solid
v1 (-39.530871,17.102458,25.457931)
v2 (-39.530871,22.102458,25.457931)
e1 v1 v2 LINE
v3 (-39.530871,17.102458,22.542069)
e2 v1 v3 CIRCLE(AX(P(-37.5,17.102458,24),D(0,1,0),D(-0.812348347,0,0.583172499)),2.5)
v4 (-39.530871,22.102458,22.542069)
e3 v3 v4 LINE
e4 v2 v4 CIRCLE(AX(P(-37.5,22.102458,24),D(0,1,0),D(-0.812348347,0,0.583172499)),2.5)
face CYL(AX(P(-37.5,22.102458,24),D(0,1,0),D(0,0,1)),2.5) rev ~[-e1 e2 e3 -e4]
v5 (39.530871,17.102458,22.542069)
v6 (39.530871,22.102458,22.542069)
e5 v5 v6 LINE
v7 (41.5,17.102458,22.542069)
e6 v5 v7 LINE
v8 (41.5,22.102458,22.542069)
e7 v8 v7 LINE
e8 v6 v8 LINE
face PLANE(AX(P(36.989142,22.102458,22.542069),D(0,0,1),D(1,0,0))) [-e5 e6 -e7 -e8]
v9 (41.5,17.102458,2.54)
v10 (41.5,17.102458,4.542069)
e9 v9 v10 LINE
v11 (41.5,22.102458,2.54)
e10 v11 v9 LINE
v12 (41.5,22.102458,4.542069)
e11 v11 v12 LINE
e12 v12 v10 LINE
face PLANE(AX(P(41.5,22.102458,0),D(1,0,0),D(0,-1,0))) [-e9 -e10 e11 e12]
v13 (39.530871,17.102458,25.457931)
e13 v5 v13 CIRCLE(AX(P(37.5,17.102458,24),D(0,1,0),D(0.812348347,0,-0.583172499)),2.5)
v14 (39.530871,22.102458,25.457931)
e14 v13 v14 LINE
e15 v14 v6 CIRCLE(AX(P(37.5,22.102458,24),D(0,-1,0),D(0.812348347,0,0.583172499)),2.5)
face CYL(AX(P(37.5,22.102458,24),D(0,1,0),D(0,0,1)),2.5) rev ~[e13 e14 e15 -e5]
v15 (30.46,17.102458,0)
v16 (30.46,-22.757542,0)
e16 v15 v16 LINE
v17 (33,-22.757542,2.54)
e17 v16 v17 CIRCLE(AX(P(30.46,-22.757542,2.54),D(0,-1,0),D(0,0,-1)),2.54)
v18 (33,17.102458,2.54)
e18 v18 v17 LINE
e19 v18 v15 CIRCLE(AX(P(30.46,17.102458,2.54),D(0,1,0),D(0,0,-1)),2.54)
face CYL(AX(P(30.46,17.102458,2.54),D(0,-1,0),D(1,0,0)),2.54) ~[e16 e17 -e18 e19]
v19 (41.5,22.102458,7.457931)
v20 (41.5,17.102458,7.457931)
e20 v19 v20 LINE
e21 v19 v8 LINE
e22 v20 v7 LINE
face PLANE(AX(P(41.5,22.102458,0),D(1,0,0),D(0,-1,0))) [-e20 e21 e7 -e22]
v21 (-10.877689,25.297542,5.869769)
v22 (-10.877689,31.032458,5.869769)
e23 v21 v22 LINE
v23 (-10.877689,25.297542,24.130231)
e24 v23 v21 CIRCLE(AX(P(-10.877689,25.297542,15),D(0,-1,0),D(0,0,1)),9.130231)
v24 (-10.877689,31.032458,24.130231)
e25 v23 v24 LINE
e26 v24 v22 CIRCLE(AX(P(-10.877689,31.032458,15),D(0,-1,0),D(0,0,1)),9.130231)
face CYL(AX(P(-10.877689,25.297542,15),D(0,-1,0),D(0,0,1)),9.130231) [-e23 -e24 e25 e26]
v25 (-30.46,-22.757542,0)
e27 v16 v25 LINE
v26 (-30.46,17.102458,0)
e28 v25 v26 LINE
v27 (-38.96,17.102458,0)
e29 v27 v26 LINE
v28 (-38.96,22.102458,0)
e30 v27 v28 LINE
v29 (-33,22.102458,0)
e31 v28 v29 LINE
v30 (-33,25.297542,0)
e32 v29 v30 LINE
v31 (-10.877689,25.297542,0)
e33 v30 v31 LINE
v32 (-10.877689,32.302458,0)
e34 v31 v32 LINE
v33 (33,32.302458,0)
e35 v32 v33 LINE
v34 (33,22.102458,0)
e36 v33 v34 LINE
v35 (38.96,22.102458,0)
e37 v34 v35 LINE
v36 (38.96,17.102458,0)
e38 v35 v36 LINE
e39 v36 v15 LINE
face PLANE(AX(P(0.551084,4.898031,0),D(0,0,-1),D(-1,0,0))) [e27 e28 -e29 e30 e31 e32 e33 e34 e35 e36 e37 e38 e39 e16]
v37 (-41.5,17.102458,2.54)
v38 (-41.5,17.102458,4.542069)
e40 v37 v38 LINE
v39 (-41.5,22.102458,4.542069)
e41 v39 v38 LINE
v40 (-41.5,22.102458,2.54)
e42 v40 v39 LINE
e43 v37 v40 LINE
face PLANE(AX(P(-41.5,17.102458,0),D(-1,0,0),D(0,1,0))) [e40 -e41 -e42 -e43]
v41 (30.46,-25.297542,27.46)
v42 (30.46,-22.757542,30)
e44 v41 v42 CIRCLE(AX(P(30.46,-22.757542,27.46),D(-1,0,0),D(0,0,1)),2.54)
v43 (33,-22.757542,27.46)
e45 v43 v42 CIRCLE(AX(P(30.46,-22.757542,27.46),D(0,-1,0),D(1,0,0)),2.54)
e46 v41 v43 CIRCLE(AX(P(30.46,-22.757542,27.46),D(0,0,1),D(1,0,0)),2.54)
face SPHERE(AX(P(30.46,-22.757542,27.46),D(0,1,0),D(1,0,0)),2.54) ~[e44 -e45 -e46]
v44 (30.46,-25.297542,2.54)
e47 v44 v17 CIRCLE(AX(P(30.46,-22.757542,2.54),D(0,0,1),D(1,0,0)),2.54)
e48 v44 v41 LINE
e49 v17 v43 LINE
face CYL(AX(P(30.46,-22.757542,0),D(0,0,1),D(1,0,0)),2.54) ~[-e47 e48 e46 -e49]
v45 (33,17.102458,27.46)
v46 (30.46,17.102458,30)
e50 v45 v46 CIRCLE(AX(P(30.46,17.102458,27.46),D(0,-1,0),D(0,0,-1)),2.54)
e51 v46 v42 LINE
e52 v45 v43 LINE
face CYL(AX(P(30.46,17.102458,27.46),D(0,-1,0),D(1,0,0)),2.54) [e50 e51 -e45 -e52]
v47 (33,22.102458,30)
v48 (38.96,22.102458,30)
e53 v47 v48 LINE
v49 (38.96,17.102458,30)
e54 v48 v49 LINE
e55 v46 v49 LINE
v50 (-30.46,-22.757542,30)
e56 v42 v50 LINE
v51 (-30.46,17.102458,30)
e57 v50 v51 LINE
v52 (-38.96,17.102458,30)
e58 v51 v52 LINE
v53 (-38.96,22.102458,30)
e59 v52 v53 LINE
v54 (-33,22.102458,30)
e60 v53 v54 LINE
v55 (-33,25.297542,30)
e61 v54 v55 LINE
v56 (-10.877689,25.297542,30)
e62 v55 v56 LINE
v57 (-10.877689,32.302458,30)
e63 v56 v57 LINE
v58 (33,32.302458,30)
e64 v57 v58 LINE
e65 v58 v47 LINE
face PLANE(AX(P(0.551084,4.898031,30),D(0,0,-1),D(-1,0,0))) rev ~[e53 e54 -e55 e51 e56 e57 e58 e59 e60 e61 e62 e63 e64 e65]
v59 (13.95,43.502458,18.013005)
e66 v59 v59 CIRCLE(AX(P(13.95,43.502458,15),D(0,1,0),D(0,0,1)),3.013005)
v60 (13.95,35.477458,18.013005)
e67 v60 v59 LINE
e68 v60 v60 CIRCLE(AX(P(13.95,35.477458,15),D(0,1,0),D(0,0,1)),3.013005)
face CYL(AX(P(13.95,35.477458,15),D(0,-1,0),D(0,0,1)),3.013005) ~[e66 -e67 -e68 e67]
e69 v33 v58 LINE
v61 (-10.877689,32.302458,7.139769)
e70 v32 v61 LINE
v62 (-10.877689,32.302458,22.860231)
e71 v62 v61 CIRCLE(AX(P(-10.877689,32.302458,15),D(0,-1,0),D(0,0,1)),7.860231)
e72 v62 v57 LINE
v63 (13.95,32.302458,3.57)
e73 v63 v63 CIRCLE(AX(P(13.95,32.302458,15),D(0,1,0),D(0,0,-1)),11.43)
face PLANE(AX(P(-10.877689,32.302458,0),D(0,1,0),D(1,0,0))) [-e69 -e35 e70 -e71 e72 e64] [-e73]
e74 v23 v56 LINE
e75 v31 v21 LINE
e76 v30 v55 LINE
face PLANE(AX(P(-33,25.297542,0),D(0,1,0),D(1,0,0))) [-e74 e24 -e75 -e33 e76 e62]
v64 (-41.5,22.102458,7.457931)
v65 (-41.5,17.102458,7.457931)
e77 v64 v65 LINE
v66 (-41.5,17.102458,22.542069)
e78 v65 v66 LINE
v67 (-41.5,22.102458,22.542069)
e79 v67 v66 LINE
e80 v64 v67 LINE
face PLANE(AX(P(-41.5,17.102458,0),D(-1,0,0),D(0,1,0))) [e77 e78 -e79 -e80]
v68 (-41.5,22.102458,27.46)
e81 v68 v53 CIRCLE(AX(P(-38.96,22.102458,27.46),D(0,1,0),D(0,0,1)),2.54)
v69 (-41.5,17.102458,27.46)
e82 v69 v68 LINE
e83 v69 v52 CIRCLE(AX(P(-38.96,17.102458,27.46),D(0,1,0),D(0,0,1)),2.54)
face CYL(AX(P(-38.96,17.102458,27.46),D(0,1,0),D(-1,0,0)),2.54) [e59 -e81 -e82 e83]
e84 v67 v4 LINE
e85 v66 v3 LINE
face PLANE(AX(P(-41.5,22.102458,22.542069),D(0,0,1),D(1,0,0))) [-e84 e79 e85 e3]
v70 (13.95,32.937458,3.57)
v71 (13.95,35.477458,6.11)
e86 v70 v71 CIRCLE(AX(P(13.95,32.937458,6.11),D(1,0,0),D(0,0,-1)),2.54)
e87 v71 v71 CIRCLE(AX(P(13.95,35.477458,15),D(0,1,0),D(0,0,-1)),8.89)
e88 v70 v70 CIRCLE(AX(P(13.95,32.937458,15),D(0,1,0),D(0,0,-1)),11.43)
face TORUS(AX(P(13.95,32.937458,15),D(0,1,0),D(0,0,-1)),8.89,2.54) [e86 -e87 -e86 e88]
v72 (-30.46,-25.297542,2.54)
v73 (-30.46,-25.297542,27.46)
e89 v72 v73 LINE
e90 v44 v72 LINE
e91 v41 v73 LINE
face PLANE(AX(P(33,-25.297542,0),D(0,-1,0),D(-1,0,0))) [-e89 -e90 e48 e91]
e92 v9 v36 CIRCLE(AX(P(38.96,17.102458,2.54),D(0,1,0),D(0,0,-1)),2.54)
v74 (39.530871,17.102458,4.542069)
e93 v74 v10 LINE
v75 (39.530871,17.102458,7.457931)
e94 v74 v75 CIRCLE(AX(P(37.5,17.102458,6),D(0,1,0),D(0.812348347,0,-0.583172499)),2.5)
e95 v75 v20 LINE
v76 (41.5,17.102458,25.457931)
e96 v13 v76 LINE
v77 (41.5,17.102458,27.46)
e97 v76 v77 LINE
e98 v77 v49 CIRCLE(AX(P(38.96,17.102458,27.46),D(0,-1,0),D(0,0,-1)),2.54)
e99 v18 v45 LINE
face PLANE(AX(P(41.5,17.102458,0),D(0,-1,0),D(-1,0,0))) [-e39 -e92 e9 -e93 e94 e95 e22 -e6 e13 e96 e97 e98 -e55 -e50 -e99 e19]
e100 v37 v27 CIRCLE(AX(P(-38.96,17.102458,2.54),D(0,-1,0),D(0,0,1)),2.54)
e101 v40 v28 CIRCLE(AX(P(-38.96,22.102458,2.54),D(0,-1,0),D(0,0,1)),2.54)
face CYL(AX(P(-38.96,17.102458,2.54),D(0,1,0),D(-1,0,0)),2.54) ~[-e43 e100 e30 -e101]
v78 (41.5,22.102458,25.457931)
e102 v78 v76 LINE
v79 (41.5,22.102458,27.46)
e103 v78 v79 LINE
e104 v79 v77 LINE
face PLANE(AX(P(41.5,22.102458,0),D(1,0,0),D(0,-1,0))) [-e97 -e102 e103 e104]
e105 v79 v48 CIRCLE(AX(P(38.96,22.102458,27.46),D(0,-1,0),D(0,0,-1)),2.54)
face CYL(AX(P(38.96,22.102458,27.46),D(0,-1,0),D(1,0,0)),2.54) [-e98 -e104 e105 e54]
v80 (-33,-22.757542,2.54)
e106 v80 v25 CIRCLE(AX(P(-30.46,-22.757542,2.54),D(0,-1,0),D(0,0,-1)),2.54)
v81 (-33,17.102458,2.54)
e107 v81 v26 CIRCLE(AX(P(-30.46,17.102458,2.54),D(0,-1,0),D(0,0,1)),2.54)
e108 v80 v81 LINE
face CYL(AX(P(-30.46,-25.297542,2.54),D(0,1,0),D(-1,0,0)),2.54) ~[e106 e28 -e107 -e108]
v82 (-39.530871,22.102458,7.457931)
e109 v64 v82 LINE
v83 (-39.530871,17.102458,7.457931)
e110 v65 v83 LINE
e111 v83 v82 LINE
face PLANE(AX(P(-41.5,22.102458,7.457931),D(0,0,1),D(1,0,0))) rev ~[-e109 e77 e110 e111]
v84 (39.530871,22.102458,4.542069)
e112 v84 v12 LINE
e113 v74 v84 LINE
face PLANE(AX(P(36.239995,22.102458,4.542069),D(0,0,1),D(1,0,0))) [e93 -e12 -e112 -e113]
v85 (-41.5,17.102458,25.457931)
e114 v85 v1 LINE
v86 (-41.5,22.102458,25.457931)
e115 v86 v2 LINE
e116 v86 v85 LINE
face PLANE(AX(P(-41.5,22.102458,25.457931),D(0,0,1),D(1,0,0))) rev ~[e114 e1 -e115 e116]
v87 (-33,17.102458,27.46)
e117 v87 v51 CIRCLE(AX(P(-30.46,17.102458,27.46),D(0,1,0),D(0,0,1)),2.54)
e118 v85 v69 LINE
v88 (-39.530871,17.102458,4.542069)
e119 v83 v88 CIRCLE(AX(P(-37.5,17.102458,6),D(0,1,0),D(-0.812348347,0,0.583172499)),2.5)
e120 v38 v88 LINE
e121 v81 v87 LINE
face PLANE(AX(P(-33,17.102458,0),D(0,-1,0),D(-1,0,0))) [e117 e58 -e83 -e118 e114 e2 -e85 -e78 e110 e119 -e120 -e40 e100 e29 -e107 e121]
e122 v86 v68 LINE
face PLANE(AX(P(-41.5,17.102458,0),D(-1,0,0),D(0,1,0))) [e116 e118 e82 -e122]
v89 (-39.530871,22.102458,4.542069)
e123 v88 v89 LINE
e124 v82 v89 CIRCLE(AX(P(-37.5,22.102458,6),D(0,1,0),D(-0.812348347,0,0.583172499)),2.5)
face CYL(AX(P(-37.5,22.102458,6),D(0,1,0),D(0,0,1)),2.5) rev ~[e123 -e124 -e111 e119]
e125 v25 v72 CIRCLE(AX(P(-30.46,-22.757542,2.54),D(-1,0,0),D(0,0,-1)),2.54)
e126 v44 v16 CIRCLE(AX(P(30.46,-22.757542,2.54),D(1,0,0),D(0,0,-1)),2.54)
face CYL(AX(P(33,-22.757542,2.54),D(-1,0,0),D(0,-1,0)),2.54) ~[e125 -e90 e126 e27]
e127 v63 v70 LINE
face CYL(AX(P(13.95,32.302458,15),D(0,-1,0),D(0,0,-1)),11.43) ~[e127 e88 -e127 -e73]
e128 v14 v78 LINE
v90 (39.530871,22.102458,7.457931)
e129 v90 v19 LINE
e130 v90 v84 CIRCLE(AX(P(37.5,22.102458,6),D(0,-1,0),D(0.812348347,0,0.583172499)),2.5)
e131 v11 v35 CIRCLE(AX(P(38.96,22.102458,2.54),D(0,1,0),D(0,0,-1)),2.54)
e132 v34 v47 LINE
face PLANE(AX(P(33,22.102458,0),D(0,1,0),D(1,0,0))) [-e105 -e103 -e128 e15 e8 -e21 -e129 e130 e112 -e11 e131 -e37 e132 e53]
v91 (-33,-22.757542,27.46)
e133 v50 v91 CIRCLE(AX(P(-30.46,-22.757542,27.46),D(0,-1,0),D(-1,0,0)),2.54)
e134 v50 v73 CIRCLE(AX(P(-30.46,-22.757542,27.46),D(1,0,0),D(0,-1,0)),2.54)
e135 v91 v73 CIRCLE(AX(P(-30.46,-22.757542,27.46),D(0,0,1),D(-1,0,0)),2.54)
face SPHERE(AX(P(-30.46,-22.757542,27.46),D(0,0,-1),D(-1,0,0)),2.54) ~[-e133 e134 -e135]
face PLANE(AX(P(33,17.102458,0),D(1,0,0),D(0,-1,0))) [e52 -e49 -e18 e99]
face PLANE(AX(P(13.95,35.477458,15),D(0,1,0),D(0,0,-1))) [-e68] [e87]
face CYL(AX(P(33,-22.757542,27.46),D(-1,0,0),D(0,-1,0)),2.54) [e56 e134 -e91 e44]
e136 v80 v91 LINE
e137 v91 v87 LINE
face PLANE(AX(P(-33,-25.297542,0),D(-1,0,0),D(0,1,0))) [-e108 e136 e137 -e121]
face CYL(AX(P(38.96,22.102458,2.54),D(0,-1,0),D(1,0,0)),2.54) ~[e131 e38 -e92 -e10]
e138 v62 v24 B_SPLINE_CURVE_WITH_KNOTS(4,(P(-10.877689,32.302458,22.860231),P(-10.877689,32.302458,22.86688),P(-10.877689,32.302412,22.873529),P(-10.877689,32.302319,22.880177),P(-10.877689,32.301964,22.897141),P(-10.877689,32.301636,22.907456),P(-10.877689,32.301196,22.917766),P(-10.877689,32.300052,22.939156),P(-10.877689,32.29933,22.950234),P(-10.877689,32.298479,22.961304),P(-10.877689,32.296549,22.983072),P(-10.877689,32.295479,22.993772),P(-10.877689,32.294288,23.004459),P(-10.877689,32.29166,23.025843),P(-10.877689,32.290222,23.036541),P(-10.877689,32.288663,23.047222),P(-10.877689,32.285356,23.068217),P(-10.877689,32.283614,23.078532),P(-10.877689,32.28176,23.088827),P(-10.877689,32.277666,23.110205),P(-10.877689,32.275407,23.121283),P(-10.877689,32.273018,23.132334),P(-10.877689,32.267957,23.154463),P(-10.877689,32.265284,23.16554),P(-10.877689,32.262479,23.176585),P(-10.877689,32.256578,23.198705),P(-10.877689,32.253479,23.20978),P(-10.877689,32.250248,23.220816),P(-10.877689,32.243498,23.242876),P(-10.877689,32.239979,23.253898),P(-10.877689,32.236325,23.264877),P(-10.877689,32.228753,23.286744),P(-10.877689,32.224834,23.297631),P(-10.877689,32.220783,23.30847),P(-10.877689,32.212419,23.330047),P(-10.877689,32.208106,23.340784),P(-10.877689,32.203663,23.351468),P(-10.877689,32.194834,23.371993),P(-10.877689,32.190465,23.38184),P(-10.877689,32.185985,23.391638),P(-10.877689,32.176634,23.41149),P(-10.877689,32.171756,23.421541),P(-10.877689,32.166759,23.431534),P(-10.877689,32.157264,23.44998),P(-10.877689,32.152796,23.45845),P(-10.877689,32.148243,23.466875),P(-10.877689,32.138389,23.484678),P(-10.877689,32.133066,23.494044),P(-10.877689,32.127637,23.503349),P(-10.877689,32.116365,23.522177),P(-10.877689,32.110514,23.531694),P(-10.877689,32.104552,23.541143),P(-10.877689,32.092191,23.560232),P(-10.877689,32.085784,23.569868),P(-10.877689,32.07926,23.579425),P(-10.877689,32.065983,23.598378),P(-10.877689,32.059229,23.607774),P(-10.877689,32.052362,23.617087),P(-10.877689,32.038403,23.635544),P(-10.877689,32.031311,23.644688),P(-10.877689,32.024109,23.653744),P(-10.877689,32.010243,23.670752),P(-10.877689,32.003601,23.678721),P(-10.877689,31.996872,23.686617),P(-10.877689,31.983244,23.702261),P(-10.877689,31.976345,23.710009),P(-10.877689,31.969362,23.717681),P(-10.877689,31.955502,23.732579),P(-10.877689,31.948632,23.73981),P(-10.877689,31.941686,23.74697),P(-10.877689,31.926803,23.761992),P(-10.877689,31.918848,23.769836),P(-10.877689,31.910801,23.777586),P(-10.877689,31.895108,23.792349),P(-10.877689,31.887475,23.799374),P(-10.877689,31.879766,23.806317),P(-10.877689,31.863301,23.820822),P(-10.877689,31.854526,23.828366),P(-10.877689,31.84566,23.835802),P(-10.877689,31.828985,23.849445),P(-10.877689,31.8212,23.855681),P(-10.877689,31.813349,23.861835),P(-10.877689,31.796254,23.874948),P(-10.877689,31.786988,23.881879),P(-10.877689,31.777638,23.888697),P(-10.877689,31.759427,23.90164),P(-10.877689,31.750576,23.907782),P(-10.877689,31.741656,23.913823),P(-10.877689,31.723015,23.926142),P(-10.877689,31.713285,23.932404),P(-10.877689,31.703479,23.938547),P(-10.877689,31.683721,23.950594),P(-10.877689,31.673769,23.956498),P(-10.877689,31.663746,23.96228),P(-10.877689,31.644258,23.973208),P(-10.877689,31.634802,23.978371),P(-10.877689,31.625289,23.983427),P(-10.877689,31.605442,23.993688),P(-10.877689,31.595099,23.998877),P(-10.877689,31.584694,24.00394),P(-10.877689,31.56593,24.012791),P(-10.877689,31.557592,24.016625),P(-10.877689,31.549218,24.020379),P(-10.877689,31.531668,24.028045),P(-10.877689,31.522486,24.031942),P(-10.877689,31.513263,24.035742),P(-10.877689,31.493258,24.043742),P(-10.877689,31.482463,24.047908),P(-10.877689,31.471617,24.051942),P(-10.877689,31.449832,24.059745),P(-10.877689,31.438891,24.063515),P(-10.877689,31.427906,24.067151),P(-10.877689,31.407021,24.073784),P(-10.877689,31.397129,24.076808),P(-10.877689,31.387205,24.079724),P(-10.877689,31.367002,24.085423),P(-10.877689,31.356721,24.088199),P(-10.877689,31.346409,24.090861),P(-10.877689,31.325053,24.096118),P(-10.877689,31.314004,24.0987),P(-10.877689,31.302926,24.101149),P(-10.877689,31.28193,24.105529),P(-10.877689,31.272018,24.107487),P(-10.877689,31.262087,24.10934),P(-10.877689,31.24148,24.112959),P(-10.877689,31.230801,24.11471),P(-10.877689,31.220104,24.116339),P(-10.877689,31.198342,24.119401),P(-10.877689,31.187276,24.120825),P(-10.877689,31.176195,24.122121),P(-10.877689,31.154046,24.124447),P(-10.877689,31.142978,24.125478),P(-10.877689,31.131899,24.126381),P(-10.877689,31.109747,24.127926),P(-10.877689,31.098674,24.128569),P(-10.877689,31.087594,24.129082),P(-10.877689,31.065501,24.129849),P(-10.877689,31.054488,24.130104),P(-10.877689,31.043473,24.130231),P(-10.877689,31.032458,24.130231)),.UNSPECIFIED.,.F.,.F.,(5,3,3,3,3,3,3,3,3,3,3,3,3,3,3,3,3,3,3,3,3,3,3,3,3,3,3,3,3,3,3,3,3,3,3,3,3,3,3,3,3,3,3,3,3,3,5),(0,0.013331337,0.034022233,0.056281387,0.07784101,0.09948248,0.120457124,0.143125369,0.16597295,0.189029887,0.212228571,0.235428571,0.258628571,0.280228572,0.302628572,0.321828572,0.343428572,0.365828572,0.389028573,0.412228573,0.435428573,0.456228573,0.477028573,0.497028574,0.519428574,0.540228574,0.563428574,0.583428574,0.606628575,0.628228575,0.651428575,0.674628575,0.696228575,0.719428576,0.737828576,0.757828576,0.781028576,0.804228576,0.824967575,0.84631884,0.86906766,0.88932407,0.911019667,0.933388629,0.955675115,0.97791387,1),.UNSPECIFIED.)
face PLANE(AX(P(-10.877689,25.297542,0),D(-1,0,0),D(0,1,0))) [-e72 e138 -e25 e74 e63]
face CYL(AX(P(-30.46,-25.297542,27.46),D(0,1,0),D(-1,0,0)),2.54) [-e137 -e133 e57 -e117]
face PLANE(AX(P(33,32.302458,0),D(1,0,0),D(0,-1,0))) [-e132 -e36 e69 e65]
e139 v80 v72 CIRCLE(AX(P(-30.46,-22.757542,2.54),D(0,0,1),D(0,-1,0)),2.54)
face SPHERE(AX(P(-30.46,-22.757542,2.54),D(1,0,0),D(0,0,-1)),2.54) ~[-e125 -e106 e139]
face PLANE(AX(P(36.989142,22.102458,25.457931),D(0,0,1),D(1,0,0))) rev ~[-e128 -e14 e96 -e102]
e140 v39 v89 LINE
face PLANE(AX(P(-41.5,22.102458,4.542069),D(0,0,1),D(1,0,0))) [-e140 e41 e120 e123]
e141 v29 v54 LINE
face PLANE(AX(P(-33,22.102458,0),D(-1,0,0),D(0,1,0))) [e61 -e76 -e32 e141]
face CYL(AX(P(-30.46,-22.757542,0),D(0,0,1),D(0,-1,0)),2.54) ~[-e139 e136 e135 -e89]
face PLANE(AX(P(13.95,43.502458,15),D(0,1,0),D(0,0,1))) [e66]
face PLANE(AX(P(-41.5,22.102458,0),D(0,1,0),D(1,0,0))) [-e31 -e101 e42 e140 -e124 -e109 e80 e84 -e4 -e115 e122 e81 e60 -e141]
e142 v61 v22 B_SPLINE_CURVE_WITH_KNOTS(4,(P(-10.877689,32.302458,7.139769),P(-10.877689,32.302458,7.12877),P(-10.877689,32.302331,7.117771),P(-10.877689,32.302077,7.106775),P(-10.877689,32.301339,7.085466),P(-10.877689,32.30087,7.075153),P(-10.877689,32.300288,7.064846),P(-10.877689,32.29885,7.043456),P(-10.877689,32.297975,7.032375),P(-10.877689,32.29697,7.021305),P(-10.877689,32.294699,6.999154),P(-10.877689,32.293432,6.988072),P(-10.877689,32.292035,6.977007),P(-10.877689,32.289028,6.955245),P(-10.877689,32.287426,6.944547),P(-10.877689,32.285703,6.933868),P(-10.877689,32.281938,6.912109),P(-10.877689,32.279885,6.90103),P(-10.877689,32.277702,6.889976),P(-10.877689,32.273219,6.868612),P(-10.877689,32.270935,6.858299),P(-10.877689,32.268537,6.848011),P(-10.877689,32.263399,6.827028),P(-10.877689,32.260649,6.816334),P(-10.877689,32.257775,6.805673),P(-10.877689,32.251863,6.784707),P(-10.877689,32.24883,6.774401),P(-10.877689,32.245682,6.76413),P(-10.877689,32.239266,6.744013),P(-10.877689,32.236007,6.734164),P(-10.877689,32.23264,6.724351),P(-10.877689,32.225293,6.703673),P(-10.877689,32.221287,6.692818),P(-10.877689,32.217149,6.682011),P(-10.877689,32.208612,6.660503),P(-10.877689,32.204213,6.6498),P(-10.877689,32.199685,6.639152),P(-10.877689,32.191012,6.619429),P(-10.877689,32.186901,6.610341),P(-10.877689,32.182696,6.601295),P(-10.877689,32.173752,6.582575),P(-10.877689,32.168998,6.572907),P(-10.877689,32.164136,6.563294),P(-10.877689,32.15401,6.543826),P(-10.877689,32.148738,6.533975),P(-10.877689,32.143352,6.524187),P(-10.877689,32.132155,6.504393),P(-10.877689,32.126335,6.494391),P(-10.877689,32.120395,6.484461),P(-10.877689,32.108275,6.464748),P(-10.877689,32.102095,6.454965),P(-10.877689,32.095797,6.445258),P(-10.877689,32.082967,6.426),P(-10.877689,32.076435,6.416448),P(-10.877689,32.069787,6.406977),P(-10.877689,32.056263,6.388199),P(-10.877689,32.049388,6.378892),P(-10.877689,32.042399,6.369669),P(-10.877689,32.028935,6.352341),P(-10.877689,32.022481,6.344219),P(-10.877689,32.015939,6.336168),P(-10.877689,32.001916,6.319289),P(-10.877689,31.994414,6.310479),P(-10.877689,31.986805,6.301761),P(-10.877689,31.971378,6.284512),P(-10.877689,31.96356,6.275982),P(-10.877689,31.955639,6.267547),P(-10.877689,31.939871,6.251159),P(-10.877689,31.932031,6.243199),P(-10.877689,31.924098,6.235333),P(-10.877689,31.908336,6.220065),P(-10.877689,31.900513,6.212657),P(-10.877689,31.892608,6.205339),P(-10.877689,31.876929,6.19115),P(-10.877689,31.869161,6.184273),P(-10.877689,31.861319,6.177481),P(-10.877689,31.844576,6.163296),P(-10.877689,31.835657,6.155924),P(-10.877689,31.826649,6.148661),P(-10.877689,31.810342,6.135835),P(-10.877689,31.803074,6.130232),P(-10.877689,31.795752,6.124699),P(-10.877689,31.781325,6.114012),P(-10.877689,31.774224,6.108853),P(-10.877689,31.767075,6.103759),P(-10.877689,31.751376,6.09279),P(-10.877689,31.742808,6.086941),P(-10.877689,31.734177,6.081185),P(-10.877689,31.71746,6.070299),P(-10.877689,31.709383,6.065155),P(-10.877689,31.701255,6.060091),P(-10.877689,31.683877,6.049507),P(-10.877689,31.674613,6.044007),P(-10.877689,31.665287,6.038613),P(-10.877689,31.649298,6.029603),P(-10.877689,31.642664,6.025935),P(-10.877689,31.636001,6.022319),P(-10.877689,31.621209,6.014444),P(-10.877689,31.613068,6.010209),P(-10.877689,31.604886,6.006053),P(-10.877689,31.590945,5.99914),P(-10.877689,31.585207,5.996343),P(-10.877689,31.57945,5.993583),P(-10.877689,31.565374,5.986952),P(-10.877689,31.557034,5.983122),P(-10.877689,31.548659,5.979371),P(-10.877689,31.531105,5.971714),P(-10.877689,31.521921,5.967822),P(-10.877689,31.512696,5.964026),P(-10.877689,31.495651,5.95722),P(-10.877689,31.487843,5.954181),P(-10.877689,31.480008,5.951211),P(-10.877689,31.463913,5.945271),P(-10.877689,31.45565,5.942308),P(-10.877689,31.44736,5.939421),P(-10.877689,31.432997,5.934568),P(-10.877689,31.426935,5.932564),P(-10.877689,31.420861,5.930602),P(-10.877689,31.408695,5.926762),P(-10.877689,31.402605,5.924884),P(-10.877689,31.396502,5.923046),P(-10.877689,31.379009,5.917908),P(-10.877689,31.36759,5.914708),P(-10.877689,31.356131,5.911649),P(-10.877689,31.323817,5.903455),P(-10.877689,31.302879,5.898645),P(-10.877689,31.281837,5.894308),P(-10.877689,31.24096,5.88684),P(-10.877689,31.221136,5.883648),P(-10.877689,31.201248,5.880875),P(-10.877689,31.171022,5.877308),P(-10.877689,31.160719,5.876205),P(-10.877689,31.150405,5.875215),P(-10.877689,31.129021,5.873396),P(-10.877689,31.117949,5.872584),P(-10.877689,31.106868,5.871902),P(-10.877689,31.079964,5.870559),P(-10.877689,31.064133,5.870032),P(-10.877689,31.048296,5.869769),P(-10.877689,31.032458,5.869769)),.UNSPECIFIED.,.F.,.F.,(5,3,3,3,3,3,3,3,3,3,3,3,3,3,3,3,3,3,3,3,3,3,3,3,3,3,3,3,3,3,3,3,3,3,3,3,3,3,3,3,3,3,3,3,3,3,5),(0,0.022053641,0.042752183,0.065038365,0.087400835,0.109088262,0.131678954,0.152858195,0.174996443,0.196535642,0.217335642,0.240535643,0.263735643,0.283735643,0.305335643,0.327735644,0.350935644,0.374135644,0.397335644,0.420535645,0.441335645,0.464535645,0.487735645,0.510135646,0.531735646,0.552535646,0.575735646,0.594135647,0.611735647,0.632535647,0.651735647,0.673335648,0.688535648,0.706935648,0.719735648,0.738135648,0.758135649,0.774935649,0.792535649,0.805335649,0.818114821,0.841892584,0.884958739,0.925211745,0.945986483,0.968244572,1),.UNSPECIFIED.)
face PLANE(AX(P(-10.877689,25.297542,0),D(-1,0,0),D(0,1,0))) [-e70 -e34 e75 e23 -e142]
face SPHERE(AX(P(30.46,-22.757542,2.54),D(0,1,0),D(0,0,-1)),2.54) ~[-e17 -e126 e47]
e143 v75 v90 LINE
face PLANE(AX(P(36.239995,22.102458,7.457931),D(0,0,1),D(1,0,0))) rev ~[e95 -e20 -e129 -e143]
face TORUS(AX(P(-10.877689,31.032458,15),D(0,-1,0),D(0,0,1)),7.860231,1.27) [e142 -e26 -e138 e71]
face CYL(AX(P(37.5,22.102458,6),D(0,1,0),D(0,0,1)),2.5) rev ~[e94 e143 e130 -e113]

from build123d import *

# Parameters (mm, degrees)
EXTRUDE1_DEPTH     = 30
FILLET1_R          = 2.54
CUT_EXTRUDE1_REACH = 71.778
SKETCH2_R          = 2.5
CUT_EXTRUDE2_REACH = 71.778
SKETCH3_W          = 3.948997199
SKETCH3_H          = 2.915862496
SKETCH3_W_2        = 5.260004778
SKETCH3_W_3        = 4.51085759
EXTRUDE2_DEPTH     = 7.004916842
SKETCH5_R          = 11.43
EXTRUDE3_DEPTH     = 3.175
FILLET2_R          = 2.54
FILLET3_R          = 1.27
SKETCH6_R          = 3.013004542
EXTRUDE4_DEPTH     = 8.025


with BuildPart() as part:
    # Sketch1 → Extrude1 (new body)
    with BuildSketch(Plane.XY):
        Polygon((-33, 17.102458421), (-41.5, 17.102458421), (-41.5, 22.102458421), (-33, 22.102458421), (-33, 25.297541579), (-10.877689124, 25.297541579), (-10.877689124, 32.302458421), (33, 32.302458421), (33, 22.102458421), (41.5, 22.102458421), (41.5, 17.102458421), (33, 17.102458421), (33, -25.297541579), (-33, -25.297541579), align=None)
    extrude(amount=EXTRUDE1_DEPTH)

    # Fillet1
    fillet1_edges = [part.edges().sort_by_distance(p)[0] for p in [
        (33, -4.097541579, 30),
        (-41.5, 19.602458421, 0),
        (41.5, 19.602458421, 0),
        (33, -4.097541579, 0),
        (0, -25.297541579, 0),
        (41.5, 19.602458421, 30),
        (-33, -4.097541579, 0),
        (33, -25.297541579, 15),
        (-33, -25.297541579, 15),
        (-33, -4.097541579, 30),
        (-41.5, 19.602458421, 30),
        (0, -25.297541579, 30),
    ]]
    fillet(fillet1_edges, radius=FILLET1_R)

    # Sketch2 → Cut-Extrude1 (cut, up to next)
    with BuildSketch(Plane(origin=(0, 22.102458421, 0), x_dir=(1, 0, 0), z_dir=(0, 1, 0)), mode=Mode.PRIVATE) as cut_extrude1_sk1:
        with Locations(Location((-37.5, -6, 0), (0, 0, 270))):
            Circle(SKETCH2_R)
    cut_extrude1_tool1 = extrude(cut_extrude1_sk1.sketch, amount=-CUT_EXTRUDE1_REACH, mode=Mode.PRIVATE) & part.part
    # Sketch2 → Cut-Extrude1 (cut, up to next)
    with BuildSketch(Plane(origin=(0, 22.102458421, 0), x_dir=(1, 0, 0), z_dir=(0, 1, 0)), mode=Mode.PRIVATE) as cut_extrude1_sk2:
        with Locations(Location((-37.5, -24, 0), (0, 0, 270))):
            Circle(SKETCH2_R)
    cut_extrude1_tool2 = extrude(cut_extrude1_sk2.sketch, amount=-CUT_EXTRUDE1_REACH, mode=Mode.PRIVATE) & part.part
    # Sketch2 → Cut-Extrude1 (cut, up to next)
    with BuildSketch(Plane(origin=(0, 22.102458421, 0), x_dir=(1, 0, 0), z_dir=(0, 1, 0)), mode=Mode.PRIVATE) as cut_extrude1_sk3:
        with Locations(Location((37.5, -6, 0), (0, 0, 270))):
            Circle(SKETCH2_R)
    cut_extrude1_tool3 = extrude(cut_extrude1_sk3.sketch, amount=-CUT_EXTRUDE1_REACH, mode=Mode.PRIVATE) & part.part
    # Sketch2 → Cut-Extrude1 (cut, up to next)
    with BuildSketch(Plane(origin=(0, 22.102458421, 0), x_dir=(1, 0, 0), z_dir=(0, 1, 0)), mode=Mode.PRIVATE) as cut_extrude1_sk4:
        with Locations(Location((37.5, -24, 0), (0, 0, 270))):
            Circle(SKETCH2_R)
    cut_extrude1_tool4 = extrude(cut_extrude1_sk4.sketch, amount=-CUT_EXTRUDE1_REACH, mode=Mode.PRIVATE) & part.part
    add(cut_extrude1_tool1.solids().sort_by_distance((-37.5, 22.102458, 6))[0], mode=Mode.SUBTRACT)
    add(cut_extrude1_tool2.solids().sort_by_distance((-37.5, 22.102458, 24))[0], mode=Mode.SUBTRACT)
    add(cut_extrude1_tool3.solids().sort_by_distance((37.5, 22.102458, 6))[0], mode=Mode.SUBTRACT)
    add(cut_extrude1_tool4.solids().sort_by_distance((37.5, 22.102458, 24))[0], mode=Mode.SUBTRACT)

    # Sketch3 → Cut-Extrude2 (cut, up to next)
    with BuildSketch(Plane(origin=(0, 22.102458421, 0), x_dir=(1, 0, 0), z_dir=(0, 1, 0)), mode=Mode.PRIVATE) as cut_extrude2_sk1:
        with Locations((-39.525501401, -6)):
            Rectangle(SKETCH3_W, SKETCH3_H)
    cut_extrude2_tool1 = extrude(cut_extrude2_sk1.sketch, amount=-CUT_EXTRUDE2_REACH, mode=Mode.PRIVATE) & part.part
    # Sketch3 → Cut-Extrude2 (cut, up to next)
    with BuildSketch(Plane(origin=(0, 22.102458421, 0), x_dir=(1, 0, 0), z_dir=(0, 1, 0)), mode=Mode.PRIVATE) as cut_extrude2_sk2:
        with Locations((-39.525501401, -24)):
            Rectangle(SKETCH3_W, SKETCH3_H)
    cut_extrude2_tool2 = extrude(cut_extrude2_sk2.sketch, amount=-CUT_EXTRUDE2_REACH, mode=Mode.PRIVATE) & part.part
    # Sketch3 → Cut-Extrude2 (cut, up to next)
    with BuildSketch(Plane(origin=(0, 22.102458421, 0), x_dir=(1, 0, 0), z_dir=(0, 1, 0)), mode=Mode.PRIVATE) as cut_extrude2_sk3:
        with Locations((38.869997611, -6)):
            Rectangle(SKETCH3_W_2, SKETCH3_H)
    cut_extrude2_tool3 = extrude(cut_extrude2_sk3.sketch, amount=-CUT_EXTRUDE2_REACH, mode=Mode.PRIVATE) & part.part
    # Sketch3 → Cut-Extrude2 (cut, up to next)
    with BuildSketch(Plane(origin=(0, 22.102458421, 0), x_dir=(1, 0, 0), z_dir=(0, 1, 0)), mode=Mode.PRIVATE) as cut_extrude2_sk4:
        with Locations((39.244571205, -24)):
            Rectangle(SKETCH3_W_3, SKETCH3_H)
    cut_extrude2_tool4 = extrude(cut_extrude2_sk4.sketch, amount=-CUT_EXTRUDE2_REACH, mode=Mode.PRIVATE) & part.part
    add(cut_extrude2_tool1.solids().sort_by_distance((-39.525501, 22.102458, 6))[0], mode=Mode.SUBTRACT)
    add(cut_extrude2_tool2.solids().sort_by_distance((-39.525501, 22.102458, 24))[0], mode=Mode.SUBTRACT)
    add(cut_extrude2_tool3.solids().sort_by_distance((38.869998, 22.102458, 6))[0], mode=Mode.SUBTRACT)
    add(cut_extrude2_tool4.solids().sort_by_distance((39.244571, 22.102458, 24))[0], mode=Mode.SUBTRACT)

    # Sketch4 → Extrude2 (add)
    with BuildSketch(Plane(origin=(0, 25.297541579, 0), x_dir=(1, 0, 0), z_dir=(0, 1, 0))):
        with BuildLine():
            Line((-10.877689124, -5.869768646), (-10.877689124, -24.130231354))
            ThreePointArc((-10.877689124, -24.130231354), (-20.007920479, -15), (-10.877689124, -5.869768646))
        make_face()
    extrude(amount=EXTRUDE2_DEPTH)

    # Sketch5 → Extrude3 (add)
    with BuildSketch(Plane(origin=(0, 32.302458421, 0), x_dir=(1, 0, 0), z_dir=(0, 1, 0))):
        with Locations(Location((13.95, -15, 0), (0, 0, 90))):
            Circle(SKETCH5_R)
    extrude(amount=EXTRUDE3_DEPTH)

    # Fillet2
    fillet2_edges = [part.edges().sort_by_distance(p)[0] for p in [
        (13.95, 35.477458421, 26.43),
    ]]
    fillet(fillet2_edges, radius=FILLET2_R)

    # Fillet3
    fillet3_edges = [part.edges().sort_by_distance(p)[0] for p in [
        (-20.007920479, 32.302458421, 15),
    ]]
    fillet(fillet3_edges, radius=FILLET3_R)

    # Sketch6 → Extrude4 (add)
    with BuildSketch(Plane(origin=(0, 35.477458421, 0), x_dir=(1, 0, 0), z_dir=(0, 1, 0))):
        with Locations(Location((13.95, -15, 0), (0, 0, 270))):
            Circle(SKETCH6_R)
    extrude(amount=EXTRUDE4_DEPTH)


solid = part.part
